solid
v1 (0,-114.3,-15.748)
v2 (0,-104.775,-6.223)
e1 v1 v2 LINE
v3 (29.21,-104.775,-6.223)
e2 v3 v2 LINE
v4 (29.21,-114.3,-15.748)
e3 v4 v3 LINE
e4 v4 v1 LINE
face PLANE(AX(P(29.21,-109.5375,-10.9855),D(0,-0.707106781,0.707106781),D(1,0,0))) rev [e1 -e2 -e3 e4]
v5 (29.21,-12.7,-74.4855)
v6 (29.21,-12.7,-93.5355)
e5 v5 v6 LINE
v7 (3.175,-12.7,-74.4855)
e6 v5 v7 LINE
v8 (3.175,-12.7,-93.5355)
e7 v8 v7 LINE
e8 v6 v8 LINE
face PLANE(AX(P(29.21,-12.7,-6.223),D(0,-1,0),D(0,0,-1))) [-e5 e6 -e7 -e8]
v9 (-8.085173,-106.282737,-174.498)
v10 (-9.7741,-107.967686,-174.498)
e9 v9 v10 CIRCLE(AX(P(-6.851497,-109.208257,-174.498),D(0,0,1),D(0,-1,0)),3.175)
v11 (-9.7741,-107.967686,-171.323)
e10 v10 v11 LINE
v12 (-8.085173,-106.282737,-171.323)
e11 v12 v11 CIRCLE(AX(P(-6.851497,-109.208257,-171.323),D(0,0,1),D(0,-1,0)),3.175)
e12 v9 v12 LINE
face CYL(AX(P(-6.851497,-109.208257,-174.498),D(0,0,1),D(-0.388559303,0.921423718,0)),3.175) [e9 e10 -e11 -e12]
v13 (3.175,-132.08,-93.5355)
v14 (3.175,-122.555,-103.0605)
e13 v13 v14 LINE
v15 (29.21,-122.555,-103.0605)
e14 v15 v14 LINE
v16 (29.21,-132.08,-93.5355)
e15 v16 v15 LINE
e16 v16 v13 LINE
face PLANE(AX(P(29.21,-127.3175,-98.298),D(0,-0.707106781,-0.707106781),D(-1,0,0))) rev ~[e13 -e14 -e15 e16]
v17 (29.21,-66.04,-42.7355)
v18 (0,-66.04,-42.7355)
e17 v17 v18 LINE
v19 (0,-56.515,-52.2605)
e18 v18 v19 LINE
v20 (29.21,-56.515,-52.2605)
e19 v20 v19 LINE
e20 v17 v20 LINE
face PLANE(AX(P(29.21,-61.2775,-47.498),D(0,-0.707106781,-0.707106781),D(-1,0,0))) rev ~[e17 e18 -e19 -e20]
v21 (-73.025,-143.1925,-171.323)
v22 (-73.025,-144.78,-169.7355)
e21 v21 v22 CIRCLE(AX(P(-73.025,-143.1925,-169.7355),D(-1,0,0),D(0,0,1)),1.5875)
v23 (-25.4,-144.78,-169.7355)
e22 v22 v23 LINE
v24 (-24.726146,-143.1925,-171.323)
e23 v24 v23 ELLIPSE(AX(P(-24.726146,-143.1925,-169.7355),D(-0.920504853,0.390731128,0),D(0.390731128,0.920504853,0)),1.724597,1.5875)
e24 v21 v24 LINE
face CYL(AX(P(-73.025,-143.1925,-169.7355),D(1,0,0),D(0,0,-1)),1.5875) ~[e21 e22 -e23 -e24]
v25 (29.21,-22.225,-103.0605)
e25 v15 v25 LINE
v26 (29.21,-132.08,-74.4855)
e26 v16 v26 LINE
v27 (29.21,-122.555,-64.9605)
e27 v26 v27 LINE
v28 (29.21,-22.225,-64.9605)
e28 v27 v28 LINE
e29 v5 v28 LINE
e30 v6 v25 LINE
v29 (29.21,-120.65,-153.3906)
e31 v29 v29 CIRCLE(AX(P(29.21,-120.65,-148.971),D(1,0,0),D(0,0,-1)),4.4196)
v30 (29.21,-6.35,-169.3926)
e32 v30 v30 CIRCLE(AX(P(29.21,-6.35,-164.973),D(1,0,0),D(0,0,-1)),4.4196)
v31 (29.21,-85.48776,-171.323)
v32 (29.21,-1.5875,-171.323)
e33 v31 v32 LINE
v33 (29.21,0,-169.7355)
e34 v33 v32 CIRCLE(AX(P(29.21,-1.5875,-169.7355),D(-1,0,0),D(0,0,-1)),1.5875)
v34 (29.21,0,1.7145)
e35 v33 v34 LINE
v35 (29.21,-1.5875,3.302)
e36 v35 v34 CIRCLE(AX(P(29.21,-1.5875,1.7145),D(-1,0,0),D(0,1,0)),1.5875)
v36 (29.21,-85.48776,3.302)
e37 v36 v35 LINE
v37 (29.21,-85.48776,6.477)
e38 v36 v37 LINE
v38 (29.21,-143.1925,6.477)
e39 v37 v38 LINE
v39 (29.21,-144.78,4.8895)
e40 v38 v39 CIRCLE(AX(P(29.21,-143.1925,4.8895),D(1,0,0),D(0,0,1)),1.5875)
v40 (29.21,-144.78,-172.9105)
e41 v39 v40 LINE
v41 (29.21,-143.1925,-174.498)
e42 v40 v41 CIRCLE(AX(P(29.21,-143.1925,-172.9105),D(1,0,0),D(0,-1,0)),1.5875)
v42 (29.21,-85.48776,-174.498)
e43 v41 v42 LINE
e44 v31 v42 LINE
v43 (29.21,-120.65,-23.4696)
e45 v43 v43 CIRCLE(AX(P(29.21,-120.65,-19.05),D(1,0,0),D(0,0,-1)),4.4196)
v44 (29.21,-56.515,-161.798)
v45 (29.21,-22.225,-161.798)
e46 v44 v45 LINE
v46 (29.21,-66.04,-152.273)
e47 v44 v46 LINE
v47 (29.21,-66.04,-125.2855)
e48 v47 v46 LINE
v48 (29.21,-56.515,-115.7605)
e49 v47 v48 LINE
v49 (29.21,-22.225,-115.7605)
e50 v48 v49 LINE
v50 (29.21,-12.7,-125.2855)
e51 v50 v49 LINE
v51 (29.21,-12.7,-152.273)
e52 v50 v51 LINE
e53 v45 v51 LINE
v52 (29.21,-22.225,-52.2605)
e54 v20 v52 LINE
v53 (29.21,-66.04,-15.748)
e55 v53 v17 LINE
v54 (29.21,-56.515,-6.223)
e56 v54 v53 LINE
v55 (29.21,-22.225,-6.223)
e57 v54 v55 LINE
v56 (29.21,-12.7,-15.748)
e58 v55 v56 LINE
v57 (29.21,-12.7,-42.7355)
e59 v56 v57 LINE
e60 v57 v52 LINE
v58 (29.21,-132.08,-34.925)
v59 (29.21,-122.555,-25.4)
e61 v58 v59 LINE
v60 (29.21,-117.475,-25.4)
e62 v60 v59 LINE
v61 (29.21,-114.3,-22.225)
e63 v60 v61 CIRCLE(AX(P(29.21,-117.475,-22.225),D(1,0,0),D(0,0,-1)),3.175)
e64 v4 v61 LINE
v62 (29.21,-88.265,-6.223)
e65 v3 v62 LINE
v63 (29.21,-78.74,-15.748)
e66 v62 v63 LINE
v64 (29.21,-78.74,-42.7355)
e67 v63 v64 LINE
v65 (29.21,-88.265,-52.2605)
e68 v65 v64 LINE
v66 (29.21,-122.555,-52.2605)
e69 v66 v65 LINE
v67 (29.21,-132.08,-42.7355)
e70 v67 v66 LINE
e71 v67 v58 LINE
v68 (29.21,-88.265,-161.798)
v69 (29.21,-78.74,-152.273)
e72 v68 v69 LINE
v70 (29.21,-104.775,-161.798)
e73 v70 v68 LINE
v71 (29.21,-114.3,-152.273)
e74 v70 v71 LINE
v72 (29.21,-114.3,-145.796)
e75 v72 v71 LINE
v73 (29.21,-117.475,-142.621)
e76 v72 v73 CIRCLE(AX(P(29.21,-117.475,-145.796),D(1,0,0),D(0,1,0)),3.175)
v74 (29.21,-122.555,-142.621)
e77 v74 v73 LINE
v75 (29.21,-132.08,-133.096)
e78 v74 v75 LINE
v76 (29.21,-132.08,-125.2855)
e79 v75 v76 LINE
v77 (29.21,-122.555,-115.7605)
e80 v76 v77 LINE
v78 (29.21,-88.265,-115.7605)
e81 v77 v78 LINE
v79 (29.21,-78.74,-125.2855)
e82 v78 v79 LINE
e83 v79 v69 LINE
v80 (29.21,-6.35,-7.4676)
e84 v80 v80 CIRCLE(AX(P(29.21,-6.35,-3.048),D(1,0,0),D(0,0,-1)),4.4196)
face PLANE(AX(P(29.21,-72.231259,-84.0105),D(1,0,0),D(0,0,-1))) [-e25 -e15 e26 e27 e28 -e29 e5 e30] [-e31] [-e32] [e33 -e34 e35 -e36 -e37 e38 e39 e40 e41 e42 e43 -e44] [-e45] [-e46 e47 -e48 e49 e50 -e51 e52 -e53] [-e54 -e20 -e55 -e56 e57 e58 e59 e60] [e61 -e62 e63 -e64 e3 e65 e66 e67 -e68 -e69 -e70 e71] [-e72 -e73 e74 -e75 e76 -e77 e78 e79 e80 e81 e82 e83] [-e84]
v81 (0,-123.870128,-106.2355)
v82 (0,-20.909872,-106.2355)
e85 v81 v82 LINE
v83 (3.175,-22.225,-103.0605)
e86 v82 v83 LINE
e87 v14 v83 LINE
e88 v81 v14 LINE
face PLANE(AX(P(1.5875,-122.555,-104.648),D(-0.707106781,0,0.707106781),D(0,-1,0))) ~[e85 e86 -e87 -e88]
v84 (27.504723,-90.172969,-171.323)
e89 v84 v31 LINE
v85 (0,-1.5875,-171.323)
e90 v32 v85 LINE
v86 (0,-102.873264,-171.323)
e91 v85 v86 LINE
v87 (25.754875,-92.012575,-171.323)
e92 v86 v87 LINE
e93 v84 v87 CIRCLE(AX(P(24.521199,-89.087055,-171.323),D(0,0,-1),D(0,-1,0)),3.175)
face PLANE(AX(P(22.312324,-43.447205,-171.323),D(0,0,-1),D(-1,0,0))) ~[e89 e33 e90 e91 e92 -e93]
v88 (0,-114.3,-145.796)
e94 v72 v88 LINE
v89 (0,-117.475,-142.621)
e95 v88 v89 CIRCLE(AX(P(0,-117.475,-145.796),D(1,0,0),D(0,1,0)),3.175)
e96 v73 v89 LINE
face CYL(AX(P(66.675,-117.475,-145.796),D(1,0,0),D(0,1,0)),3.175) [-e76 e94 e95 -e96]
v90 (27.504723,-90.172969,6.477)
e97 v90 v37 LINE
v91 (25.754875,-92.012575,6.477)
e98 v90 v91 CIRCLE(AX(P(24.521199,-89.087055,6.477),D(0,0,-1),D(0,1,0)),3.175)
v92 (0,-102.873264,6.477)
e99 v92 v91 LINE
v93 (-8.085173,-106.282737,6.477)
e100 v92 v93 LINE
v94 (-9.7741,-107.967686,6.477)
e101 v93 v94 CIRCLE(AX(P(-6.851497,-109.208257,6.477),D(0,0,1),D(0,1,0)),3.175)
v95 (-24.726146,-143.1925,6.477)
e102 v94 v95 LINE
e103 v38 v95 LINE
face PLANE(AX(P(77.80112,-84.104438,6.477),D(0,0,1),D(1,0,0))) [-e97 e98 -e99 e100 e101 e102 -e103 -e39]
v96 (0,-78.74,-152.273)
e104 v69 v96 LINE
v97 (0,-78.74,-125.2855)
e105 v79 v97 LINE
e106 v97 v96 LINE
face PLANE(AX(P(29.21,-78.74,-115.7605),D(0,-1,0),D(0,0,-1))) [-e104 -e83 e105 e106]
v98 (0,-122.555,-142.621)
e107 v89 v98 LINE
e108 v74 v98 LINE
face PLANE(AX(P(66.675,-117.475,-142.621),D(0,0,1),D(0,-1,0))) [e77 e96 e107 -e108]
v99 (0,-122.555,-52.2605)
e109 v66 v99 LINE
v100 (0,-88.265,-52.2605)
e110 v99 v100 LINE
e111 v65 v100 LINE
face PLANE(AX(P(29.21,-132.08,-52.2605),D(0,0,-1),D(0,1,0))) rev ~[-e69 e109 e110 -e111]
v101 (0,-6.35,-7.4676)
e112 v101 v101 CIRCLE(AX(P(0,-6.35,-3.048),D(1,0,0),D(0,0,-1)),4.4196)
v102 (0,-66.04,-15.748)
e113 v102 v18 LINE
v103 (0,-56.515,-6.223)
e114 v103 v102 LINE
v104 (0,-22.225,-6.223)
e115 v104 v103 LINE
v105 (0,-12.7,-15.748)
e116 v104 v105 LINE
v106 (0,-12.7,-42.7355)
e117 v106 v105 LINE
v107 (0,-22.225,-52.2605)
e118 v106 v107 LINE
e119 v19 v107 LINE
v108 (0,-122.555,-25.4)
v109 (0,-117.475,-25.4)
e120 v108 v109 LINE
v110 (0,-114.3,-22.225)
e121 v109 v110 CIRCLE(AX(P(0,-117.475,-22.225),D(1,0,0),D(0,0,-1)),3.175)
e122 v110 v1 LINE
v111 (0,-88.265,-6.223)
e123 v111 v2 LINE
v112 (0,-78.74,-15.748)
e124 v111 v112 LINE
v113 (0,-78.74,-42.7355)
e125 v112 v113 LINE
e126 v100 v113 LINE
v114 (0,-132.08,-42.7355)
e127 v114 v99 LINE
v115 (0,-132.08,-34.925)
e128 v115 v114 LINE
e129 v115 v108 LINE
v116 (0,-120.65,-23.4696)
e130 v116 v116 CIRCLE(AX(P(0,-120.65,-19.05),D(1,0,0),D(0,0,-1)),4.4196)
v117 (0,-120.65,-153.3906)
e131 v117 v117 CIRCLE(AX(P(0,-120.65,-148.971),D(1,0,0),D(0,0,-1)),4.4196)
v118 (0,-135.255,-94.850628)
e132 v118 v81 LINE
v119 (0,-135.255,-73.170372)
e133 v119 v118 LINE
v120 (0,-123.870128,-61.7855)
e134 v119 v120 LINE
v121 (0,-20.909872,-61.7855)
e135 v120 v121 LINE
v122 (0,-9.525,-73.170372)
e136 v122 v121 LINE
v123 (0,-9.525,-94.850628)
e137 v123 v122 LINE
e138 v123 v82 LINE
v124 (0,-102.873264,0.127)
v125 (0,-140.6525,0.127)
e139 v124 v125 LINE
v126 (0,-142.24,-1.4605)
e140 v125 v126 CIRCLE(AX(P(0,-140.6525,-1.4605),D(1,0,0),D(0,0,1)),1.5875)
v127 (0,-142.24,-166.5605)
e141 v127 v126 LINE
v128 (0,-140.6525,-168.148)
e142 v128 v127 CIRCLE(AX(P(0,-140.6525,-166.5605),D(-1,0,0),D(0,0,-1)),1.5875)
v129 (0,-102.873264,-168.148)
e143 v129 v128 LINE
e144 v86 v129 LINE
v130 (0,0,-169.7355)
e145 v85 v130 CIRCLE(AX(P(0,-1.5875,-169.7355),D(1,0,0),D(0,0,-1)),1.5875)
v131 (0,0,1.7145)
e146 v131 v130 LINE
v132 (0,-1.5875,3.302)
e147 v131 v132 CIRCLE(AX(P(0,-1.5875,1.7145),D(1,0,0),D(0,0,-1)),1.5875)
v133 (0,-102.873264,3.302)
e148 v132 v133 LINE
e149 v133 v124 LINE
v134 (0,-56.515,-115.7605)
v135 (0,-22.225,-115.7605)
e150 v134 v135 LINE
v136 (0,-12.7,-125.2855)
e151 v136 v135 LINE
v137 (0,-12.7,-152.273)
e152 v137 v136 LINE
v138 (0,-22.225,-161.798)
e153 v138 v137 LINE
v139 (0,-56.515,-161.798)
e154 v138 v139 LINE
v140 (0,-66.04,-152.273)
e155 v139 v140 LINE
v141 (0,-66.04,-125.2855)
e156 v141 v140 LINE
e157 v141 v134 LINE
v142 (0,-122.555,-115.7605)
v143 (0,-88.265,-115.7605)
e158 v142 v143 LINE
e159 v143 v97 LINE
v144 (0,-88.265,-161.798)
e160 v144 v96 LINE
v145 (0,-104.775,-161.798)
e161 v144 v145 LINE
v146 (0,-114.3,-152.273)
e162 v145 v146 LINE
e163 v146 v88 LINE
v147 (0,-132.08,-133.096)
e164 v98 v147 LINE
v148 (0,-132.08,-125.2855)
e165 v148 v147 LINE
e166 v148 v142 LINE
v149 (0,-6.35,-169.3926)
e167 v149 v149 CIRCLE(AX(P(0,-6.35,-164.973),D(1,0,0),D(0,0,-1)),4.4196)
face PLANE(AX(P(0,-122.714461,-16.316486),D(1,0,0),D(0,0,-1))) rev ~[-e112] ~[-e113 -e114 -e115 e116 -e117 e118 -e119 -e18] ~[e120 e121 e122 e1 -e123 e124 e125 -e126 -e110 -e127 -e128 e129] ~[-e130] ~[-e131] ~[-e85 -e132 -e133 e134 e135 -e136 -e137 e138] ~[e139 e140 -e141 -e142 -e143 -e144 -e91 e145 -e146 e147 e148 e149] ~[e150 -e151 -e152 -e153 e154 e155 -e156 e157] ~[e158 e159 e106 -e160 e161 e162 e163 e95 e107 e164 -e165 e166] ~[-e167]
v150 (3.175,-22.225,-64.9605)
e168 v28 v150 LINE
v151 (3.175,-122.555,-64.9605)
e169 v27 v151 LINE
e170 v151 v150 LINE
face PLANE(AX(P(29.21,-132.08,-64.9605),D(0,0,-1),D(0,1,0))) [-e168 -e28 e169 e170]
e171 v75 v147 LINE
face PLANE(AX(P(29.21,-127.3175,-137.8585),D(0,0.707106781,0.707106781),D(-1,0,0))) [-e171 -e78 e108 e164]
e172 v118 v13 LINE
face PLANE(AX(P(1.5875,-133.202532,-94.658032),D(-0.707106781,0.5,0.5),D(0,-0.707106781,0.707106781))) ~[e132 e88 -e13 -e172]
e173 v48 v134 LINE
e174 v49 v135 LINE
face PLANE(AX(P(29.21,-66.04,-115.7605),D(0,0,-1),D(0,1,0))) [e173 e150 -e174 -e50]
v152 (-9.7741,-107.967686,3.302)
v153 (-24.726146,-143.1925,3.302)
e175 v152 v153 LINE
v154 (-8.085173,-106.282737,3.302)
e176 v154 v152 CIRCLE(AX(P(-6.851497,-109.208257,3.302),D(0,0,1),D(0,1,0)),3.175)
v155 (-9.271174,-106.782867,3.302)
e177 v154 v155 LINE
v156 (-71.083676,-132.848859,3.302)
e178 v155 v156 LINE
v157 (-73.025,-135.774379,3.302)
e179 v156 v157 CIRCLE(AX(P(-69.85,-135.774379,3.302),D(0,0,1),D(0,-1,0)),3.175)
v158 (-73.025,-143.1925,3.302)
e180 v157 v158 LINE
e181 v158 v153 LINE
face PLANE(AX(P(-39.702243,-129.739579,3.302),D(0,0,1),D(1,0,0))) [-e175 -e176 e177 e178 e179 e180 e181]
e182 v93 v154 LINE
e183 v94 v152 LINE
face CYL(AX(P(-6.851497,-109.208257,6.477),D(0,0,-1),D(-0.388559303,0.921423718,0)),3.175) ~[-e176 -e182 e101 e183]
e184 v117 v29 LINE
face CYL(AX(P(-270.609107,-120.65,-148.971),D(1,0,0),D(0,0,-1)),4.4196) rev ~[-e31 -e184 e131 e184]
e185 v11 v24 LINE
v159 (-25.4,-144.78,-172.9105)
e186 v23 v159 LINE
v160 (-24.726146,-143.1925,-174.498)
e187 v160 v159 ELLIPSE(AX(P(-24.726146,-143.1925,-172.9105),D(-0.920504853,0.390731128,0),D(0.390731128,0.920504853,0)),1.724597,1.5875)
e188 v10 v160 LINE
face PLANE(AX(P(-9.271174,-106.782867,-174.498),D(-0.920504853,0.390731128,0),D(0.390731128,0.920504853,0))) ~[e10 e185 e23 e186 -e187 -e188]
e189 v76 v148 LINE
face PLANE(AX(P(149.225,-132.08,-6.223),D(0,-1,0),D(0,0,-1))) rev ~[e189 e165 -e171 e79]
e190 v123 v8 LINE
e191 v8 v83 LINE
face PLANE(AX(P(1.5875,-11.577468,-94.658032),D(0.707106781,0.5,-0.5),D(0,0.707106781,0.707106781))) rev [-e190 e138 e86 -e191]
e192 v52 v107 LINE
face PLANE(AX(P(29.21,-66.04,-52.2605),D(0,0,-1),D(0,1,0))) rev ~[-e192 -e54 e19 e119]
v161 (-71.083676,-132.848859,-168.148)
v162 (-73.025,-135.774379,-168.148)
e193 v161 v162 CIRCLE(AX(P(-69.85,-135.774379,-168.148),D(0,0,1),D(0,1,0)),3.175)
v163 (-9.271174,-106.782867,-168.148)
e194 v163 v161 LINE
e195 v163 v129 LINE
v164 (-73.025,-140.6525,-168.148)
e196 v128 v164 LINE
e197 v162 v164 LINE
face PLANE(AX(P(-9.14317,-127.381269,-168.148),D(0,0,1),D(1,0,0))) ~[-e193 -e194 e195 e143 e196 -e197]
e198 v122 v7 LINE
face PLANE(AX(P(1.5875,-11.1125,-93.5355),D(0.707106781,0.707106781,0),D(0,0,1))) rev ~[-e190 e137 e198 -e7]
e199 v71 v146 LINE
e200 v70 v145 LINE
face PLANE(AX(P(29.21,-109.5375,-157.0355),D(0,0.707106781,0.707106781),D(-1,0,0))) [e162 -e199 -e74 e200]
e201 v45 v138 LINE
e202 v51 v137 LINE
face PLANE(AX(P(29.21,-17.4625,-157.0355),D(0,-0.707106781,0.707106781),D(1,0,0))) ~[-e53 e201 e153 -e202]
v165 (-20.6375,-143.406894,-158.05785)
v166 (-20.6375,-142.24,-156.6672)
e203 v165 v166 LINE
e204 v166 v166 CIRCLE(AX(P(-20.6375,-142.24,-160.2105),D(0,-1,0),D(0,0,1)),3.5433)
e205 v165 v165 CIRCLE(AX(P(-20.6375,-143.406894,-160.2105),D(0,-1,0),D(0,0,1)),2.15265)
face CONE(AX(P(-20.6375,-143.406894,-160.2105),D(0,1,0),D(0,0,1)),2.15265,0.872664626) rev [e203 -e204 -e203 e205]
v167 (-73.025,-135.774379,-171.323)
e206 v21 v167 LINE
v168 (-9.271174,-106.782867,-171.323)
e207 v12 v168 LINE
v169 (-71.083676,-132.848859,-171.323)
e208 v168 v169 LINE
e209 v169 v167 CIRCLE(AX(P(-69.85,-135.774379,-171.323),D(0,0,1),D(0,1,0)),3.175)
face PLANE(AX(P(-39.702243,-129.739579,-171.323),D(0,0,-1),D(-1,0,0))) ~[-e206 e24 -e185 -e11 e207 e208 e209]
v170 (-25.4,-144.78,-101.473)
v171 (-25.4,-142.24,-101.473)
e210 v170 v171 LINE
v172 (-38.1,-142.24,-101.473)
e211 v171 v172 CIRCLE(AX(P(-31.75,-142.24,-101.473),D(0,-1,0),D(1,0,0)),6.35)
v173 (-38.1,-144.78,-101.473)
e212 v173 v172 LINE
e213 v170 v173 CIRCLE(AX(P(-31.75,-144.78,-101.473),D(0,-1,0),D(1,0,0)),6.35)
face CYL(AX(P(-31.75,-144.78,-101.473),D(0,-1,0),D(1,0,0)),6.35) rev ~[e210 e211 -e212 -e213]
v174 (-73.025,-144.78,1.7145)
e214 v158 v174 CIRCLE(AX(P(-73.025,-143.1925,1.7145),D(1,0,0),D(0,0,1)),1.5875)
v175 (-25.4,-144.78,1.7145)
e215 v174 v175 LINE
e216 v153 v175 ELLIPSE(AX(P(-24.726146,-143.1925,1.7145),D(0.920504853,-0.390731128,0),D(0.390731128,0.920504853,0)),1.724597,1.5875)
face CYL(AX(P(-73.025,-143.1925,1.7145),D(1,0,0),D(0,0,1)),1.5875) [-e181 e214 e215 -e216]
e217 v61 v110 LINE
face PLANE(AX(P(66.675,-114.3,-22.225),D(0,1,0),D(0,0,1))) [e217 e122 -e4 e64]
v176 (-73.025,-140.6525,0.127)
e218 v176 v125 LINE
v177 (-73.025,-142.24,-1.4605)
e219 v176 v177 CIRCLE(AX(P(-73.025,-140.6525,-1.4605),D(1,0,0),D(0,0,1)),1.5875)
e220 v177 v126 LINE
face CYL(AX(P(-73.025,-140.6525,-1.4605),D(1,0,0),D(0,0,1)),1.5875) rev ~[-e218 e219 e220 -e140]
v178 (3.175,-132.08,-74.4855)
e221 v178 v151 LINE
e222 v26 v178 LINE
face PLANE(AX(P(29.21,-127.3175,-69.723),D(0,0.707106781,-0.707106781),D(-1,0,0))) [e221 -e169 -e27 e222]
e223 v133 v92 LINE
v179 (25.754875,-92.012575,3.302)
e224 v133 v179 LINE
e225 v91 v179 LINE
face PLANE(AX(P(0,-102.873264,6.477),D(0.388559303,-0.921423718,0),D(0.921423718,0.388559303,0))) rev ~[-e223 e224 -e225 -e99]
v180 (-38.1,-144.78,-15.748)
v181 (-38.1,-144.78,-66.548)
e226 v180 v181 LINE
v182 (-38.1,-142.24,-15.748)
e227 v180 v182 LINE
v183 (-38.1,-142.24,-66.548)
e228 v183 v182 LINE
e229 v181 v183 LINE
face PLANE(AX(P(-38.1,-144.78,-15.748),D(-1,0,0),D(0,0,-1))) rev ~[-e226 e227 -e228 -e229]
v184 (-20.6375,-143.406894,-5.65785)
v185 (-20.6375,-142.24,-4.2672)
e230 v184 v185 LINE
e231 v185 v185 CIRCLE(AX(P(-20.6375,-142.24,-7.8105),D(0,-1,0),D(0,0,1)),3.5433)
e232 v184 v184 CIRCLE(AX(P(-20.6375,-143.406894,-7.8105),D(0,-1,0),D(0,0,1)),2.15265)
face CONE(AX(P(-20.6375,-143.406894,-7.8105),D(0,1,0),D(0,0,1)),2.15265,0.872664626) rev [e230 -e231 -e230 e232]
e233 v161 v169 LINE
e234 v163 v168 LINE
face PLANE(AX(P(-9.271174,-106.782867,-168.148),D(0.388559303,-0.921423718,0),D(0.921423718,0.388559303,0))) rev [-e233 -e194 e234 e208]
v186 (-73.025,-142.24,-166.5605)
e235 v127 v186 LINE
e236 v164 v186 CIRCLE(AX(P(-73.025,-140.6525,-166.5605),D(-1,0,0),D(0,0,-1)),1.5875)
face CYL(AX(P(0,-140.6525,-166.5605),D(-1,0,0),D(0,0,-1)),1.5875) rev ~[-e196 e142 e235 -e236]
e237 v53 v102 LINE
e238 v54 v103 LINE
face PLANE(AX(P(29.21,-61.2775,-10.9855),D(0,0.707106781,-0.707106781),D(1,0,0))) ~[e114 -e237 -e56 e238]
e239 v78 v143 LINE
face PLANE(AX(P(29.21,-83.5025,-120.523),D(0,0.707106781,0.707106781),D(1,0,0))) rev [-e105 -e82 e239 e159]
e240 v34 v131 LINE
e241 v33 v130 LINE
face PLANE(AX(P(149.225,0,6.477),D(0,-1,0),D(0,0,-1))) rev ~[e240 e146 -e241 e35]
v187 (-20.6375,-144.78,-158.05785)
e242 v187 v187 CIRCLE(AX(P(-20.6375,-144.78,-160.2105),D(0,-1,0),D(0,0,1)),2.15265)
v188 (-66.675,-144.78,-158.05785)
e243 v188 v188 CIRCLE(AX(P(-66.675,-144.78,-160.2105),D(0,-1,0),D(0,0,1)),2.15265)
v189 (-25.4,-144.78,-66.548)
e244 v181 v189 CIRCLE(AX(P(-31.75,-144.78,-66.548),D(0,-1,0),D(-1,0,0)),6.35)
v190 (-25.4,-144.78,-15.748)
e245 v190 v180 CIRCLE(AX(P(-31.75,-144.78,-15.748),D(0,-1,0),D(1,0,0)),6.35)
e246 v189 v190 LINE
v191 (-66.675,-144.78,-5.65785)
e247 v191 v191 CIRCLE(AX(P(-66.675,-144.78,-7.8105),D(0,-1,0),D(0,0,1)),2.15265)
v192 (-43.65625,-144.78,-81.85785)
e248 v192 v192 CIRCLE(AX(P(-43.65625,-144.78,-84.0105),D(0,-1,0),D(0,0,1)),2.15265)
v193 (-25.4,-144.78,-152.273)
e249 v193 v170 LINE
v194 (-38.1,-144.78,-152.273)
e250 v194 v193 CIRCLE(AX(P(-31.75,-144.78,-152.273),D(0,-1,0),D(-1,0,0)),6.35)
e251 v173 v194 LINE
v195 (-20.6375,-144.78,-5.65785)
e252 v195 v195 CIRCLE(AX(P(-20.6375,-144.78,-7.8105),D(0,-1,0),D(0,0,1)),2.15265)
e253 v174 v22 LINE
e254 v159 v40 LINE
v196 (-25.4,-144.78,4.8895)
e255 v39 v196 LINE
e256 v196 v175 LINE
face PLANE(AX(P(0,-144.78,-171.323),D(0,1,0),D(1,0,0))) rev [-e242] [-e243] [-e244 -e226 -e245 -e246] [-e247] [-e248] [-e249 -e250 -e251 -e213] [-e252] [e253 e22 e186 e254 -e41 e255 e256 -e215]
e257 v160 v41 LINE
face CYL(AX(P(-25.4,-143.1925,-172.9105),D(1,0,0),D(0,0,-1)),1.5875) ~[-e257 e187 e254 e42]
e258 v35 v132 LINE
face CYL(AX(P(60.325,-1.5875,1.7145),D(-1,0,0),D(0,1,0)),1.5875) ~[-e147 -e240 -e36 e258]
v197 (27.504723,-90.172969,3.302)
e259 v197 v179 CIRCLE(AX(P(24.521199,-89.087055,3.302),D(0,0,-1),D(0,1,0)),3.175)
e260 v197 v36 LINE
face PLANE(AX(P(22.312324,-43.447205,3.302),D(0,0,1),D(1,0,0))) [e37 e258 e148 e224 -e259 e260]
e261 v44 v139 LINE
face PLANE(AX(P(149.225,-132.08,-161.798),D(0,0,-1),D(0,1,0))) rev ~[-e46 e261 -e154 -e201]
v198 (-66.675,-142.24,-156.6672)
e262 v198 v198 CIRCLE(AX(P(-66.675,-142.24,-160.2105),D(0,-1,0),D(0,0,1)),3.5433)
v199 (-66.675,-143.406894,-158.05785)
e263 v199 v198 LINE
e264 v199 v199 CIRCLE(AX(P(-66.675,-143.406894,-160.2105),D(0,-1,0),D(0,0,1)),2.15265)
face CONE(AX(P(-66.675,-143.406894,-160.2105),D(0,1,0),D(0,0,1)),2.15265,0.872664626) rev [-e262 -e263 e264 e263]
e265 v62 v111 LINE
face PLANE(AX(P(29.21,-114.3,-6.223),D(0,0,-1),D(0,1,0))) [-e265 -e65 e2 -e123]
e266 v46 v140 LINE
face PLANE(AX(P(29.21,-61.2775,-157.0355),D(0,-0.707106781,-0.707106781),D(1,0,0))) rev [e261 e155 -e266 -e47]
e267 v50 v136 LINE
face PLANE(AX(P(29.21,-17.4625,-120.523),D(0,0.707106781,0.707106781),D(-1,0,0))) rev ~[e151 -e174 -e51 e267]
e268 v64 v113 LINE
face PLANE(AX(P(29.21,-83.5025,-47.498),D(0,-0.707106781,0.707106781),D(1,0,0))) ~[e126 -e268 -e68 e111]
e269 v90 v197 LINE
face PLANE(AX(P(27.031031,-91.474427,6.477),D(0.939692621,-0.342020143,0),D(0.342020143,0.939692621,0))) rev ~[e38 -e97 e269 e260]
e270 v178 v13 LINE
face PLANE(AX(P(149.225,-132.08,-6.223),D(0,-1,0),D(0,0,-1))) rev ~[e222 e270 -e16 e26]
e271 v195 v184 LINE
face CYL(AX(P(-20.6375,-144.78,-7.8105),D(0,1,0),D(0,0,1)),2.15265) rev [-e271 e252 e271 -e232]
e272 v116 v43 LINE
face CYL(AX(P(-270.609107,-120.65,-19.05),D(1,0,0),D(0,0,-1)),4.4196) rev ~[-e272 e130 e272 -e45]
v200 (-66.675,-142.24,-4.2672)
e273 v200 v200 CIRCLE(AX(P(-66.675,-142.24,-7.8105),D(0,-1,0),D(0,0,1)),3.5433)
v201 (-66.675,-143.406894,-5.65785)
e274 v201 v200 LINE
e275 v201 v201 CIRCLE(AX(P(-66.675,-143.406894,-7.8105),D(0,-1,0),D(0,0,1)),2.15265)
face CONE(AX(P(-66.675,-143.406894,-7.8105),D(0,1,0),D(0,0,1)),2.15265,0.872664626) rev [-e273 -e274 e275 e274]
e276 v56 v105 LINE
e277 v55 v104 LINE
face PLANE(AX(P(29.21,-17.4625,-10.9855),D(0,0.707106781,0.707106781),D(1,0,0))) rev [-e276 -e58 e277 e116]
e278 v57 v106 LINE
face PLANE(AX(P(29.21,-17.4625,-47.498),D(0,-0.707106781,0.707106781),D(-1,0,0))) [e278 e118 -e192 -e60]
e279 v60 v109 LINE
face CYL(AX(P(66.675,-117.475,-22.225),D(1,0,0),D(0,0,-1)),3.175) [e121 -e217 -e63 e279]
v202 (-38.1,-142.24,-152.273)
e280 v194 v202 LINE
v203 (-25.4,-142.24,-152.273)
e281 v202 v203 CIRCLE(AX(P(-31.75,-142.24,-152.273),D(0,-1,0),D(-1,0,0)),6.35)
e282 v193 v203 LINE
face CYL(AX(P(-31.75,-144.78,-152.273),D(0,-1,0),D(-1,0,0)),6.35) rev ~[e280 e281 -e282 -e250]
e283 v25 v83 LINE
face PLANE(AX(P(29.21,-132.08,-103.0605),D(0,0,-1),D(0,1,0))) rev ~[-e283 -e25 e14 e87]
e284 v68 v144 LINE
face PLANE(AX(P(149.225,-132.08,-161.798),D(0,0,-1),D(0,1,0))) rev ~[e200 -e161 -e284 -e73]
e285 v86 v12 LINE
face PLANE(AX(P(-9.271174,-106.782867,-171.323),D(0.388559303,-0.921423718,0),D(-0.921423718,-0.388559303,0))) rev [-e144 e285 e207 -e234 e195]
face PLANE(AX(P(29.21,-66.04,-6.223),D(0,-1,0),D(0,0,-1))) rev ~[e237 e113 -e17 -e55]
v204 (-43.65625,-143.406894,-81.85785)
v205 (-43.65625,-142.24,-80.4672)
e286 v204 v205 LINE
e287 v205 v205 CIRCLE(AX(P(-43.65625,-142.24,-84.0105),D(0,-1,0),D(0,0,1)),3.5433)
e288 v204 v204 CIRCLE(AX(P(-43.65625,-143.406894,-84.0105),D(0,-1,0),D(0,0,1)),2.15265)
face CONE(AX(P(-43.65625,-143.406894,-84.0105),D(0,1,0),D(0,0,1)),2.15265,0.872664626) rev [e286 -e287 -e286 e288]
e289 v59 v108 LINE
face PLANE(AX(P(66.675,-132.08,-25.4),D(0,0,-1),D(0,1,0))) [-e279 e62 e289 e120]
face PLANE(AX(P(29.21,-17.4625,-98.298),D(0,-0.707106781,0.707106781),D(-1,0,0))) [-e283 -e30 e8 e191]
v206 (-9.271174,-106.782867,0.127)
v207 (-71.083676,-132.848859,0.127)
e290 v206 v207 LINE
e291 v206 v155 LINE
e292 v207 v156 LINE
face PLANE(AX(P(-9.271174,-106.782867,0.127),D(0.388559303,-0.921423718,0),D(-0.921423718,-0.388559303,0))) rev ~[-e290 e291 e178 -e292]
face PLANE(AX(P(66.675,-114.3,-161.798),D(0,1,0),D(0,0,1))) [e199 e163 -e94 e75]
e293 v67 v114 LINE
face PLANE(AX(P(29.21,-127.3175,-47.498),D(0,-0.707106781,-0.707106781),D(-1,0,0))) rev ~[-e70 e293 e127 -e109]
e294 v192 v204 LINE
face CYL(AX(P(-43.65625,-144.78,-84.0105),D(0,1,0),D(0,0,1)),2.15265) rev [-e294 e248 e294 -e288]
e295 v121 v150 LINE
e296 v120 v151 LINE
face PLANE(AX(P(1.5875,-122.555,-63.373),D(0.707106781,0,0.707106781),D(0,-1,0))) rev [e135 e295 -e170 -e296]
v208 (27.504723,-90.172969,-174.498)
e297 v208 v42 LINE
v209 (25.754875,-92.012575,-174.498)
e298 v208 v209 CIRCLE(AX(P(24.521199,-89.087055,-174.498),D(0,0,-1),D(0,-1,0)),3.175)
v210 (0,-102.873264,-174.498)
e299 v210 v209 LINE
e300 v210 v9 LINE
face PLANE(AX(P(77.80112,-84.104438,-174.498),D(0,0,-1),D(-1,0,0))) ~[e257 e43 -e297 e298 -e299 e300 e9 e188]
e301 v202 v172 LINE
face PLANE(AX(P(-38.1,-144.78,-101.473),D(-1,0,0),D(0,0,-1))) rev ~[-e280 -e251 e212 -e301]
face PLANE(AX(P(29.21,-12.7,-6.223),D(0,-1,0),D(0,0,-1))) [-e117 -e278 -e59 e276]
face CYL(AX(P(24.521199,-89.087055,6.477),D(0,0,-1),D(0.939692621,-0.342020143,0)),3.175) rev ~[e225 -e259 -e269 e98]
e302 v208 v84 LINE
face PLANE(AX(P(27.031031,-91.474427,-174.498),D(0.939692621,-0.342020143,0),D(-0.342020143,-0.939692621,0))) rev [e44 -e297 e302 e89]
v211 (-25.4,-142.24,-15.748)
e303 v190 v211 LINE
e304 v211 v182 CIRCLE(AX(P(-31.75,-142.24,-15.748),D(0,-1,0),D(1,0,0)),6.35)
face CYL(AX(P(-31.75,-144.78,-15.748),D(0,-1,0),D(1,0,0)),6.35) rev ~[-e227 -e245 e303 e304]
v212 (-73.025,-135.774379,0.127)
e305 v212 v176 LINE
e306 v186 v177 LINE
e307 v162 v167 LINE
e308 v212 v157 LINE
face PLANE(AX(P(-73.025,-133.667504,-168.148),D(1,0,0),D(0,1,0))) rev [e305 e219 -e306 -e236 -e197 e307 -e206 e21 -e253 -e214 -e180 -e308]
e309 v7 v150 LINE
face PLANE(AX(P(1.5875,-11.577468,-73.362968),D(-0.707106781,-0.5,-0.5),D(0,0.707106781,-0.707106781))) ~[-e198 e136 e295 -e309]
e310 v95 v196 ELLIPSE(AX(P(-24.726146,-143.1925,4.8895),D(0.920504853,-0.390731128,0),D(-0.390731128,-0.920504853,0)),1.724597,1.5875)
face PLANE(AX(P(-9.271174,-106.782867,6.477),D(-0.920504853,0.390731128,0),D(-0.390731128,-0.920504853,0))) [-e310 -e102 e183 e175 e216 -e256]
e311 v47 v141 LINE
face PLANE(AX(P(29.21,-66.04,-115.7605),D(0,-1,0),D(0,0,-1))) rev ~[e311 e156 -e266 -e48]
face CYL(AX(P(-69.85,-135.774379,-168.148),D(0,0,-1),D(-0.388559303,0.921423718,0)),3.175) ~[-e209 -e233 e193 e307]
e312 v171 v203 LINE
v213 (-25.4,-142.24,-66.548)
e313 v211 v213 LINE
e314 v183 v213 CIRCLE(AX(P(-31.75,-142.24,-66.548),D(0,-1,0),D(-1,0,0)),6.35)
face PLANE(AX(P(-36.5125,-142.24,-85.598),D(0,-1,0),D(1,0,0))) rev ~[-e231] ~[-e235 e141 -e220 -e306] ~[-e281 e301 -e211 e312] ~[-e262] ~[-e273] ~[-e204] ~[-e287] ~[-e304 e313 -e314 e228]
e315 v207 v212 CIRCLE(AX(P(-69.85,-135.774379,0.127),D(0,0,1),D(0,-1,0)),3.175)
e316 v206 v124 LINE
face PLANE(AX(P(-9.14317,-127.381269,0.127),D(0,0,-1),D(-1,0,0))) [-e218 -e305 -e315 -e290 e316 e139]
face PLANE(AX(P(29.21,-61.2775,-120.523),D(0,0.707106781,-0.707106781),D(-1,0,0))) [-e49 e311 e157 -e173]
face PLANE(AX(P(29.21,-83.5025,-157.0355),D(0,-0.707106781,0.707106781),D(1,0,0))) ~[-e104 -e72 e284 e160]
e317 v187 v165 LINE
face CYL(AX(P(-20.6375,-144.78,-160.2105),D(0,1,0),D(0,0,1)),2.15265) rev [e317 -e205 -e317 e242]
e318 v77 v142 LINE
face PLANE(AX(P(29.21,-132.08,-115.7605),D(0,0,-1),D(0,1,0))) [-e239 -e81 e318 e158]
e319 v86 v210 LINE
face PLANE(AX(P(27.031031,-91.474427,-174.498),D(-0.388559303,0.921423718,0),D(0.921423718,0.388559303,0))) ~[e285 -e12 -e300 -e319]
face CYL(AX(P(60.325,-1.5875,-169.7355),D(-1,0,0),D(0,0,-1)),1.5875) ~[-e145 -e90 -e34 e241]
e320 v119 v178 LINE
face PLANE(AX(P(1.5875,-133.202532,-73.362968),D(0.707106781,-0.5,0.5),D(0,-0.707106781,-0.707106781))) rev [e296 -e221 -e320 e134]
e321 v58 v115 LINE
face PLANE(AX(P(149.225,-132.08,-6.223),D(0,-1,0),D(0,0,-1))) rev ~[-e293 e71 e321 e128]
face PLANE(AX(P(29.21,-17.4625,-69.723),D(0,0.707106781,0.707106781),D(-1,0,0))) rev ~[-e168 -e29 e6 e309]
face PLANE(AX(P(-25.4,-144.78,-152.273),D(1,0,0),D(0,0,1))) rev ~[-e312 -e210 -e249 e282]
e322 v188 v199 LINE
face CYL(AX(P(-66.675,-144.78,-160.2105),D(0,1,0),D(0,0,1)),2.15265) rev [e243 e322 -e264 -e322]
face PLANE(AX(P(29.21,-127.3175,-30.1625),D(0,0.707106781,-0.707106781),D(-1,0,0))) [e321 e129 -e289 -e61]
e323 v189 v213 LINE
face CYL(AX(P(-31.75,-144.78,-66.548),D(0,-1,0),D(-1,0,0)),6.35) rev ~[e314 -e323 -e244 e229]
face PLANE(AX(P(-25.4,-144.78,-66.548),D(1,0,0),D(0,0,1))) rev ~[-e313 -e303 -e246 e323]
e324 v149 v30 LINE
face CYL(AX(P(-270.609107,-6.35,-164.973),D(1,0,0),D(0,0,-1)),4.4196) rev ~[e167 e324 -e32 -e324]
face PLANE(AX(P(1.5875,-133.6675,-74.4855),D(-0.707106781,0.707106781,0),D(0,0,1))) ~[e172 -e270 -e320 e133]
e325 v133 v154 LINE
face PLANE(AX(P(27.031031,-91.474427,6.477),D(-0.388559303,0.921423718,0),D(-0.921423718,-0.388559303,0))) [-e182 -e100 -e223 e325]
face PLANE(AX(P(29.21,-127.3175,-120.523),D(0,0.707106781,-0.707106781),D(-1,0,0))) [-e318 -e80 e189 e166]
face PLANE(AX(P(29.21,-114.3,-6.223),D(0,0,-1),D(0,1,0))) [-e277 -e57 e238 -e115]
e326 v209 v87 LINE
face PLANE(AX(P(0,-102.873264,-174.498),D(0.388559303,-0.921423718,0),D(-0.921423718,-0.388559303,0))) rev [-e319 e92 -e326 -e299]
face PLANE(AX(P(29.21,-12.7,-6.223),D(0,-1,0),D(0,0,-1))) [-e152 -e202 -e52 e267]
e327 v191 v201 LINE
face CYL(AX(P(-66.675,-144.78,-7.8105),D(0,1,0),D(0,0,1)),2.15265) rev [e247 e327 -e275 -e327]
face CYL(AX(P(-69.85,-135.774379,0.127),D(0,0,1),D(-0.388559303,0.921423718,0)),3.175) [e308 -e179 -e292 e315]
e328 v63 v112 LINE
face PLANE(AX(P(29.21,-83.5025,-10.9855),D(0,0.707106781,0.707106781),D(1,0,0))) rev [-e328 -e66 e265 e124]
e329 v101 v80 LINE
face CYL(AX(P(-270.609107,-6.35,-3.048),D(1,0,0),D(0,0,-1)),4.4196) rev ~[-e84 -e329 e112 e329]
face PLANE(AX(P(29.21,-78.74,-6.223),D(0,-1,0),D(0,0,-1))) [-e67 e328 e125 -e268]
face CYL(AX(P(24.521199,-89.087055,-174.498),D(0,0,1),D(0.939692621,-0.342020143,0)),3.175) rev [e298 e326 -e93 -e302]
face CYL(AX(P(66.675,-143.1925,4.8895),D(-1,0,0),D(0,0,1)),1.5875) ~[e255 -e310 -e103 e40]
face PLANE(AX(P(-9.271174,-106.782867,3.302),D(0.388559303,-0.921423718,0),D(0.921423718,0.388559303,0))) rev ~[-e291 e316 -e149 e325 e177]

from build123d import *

# Parameters (mm, degrees)
SKETCH2_W                                 = 180.975
SKETCH2_H                                 = 144.78
BOSS_EXTRUDE1_DEPTH                       = 149.225
BOSS_EXTRUDE2_DEPTH                       = 3.175
BOSS_EXTRUDE3_DEPTH                       = 3.175
BOSS_EXTRUDE4_DEPTH                       = 3.175
CUT_EXTRUDE1_DEPTH                        = 3.175
SKETCH7_W                                 = 73.025
SKETCH7_H                                 = 171.45
BOSS_EXTRUDE6_DEPTH                       = 2.54
FILLET1_R                                 = 1.5875
SKETCH10_W                                = 155.575
SKETCH10_H                                = 119.38
CUT_EXTRUDE2_DEPTH                        = 223.25
FILLET3_R                                 = 3.175
CHAMFER1_SIZE                             = 6.35
FILLET4_R                                 = 6.35
SKETCH11_W                                = 180.975
SKETCH11_H                                = 144.78
CUT_EXTRUDE3_DEPTH                        = 82.55
FILLET5_R                                 = 1.5875
CUT_EXTRUDE4_REACH                        = 146.78
BOSS_EXTRUDE7_DEPTH                       = 66.675
BOSS_EXTRUDE8_DEPTH                       = 9.525
S_0_348_DIAMETER_HOLE1_D                  = 8.8392
CSK_FOR_6_FLAT_HEAD_MACHINE_SCREW_2_COUNT = 2
CSK_FOR_6_FLAT_HEAD_MACHINE_SCREW_2_PITCH = 46.0375
CSK_FOR_6_FLAT_HEAD_MACHINE_SCREW_3_COUNT = 2
CSK_FOR_6_FLAT_HEAD_MACHINE_SCREW_3_PITCH = 159.201794608
CSK_FOR_6_FLAT_HEAD_MACHINE_SCREW_4_COUNT = 2
CSK_FOR_6_FLAT_HEAD_MACHINE_SCREW_4_PITCH = 152.4
CSK_FOR_6_FLAT_HEAD_MACHINE_SCREW_5_COUNT = 2
CSK_FOR_6_FLAT_HEAD_MACHINE_SCREW_5_PITCH = 79.600897304
F_1_4_CLEARANCE_HOLE1_D                   = 7.14248
RELIEF_FOR_MIP_FACE_SUPPORT_DEPTH         = 37.465
SKETCH23_W                                = 6.35
SKETCH23_H                                = 119.38
SKETCH23_W_2                              = 155.575
SKETCH23_H_2                              = 6.35
EXTRUDE_THIN1_DEPTH                       = 29.21
FILLET6_R                                 = 6.35
CUT_EXTRUDE5_DEPTH                        = 29.21
SKETCH25_W                                = 12.7
SKETCH25_H                                = 119.38
SKETCH25_W_2                              = 52.3875
SKETCH25_H_2                              = 12.7
EXTRUDE_THIN2_DEPTH                       = 29.21
CHAMFER2_SIZE                             = 9.525
CHAMFER3_SIZE                             = 3.175


with BuildPart() as part:
    # Sketch2 → Boss-Extrude1 (new body)
    with BuildSketch(Plane(origin=(149.225, 0, 0), x_dir=(0, 0, -1), z_dir=(1, 0, 0))):
        with Locations((84.0105, -72.39)):
            Rectangle(SKETCH2_W, SKETCH2_H)
    extrude(amount=-BOSS_EXTRUDE1_DEPTH)

    # Sketch3<3> → Boss-Extrude2 (add)
    with BuildSketch(Plane.XY.offset(6.477)):
        Polygon((-9.271174074, -106.782867284), (-25.4, -144.78), (149.225, -144.78), (149.225, 0), (60.325, 0), (27.03103123, -91.474427399), align=None)
    extrude(amount=-BOSS_EXTRUDE2_DEPTH)



with BuildPart() as body_2:
    # Sketch4 → Boss-Extrude3 (new body)
    with BuildSketch(Plane.XY.offset(0.127)):
        Polygon((-73.025, -133.667504276), (-73.025, -144.78), (-25.4, -144.78), (-9.271174074, -106.782867284), align=None)
    extrude(amount=BOSS_EXTRUDE3_DEPTH)


with BuildPart() as part_1:
    add(part.part)

    add(body_2.part)  # Boss-Extrude4 merges body 2
    # Sketch5 → Boss-Extrude4 (add)
    with BuildSketch(Plane(origin=(0, 0, 3.302), x_dir=(-1, 0, 0), z_dir=(0, 0, -1))):
        Polygon((0, -102.873264278), (0, -144.78), (25.4, -144.78), (9.271174074, -106.782867284), align=None)
    extrude(amount=BOSS_EXTRUDE4_DEPTH)

    # Mirror5: part across plane


with BuildPart() as part_2:
    add(part_1.part)
    add(part_1.part.mirror(Plane.XY.offset(-84.0105)))

    # Sketch3 → Cut-Extrude1 (cut)
    with BuildSketch(Plane.XY.offset(6.477)):
        Polygon((27.03103123, -91.474427399), (60.325, 0), (0, 0), (0, -102.873264278), align=None)
    cut_extrude1 = extrude(amount=-CUT_EXTRUDE1_DEPTH, mode=Mode.SUBTRACT)

    # Mirror6: Cut-Extrude1 across plane
    add(cut_extrude1.mirror(Plane.XY.offset(-84.0105)), mode=Mode.SUBTRACT)

    # Sketch7 → Boss-Extrude6 (add)
    with BuildSketch(Plane.XZ.offset(144.78)):
        with Locations((-36.5125, -85.598)):
            Rectangle(SKETCH7_W, SKETCH7_H)
    extrude(amount=-BOSS_EXTRUDE6_DEPTH)

    # Fillet1
    fillet1_edges = [part_2.edges().sort_by_distance(p)[0] for p in [
        (30.1625, 0, 3.302),
        (30.1625, 0, -171.323),
    ]]
    fillet(fillet1_edges, radius=FILLET1_R)

    # Sketch10 → Cut-Extrude2 (cut, through all)
    with BuildSketch(Plane(origin=(149.225, 0, 0), x_dir=(0, 0, -1), z_dir=(1, 0, 0))):
        with Locations((84.0105, -72.39)):
            Rectangle(SKETCH10_W, SKETCH10_H)
    extrude(amount=-CUT_EXTRUDE2_DEPTH, mode=Mode.SUBTRACT)

    # Fillet3
    fillet3_edges = [part_2.edges().sort_by_distance(p)[0] for p in [
        (27.03103123, -91.474427399, 4.8895),
        (27.03103123, -91.474427399, -172.9105),
        (-9.271174074, -106.782867284, 4.8895),
        (-73.025, -133.667504276, 1.7145),
        (-73.025, -133.667504276, -169.7355),
        (-9.271174074, -106.782867284, -172.9105),
    ]]
    fillet(fillet3_edges, radius=FILLET3_R)

    # Chamfer1
    chamfer1_edges = [part_2.edges().sort_by_distance(p)[0] for p in [
        (74.6125, -12.7, -161.798),
        (74.6125, -132.08, -161.798),
        (74.6125, -132.08, -6.223),
        (74.6125, -12.7, -6.223),
    ]]
    chamfer(chamfer1_edges, length=CHAMFER1_SIZE)

    # Fillet4
    fillet4_edges = [part_2.edges().sort_by_distance(p)[0] for p in [
        (74.6125, -125.73, -6.223),
        (74.6125, -19.05, -6.223),
        (74.6125, -12.7, -155.448),
        (74.6125, -12.7, -12.573),
        (74.6125, -132.08, -155.448),
        (74.6125, -132.08, -12.573),
        (74.6125, -19.05, -161.798),
        (74.6125, -125.73, -161.798),
    ]]
    fillet(fillet4_edges, radius=FILLET4_R)

    # Sketch11 → Cut-Extrude3 (cut)
    with BuildSketch(Plane(origin=(149.225, 0, 0), x_dir=(0, 0, -1), z_dir=(1, 0, 0))):
        with Locations((84.0105, -72.39)):
            Rectangle(SKETCH11_W, SKETCH11_H)
    extrude(amount=-CUT_EXTRUDE3_DEPTH, mode=Mode.SUBTRACT)

    # Fillet5
    fillet5_edges = [part_2.edges().sort_by_distance(p)[0] for p in [
        (20.6375, -144.78, 6.477),
        (20.6375, -144.78, -174.498),
        (-36.5125, -142.24, 0.127),
        (-36.5125, -142.24, -168.148),
        (-49.2125, -144.78, 3.302),
        (-49.2125, -144.78, -171.323),
    ]]
    fillet(fillet5_edges, radius=FILLET5_R)

    # Sketch12 → Cut-Extrude4 (cut, up to next)
    with BuildSketch(Plane.XZ.offset(144.78), mode=Mode.PRIVATE) as cut_extrude4_sk1:
        with BuildLine():
            Line((-38.1, -101.473), (-38.1, -152.273))
            ThreePointArc((-38.1, -152.273), (-31.75, -158.623), (-25.4, -152.273))
            Line((-25.4, -152.273), (-25.4, -101.473))
            ThreePointArc((-25.4, -101.473), (-31.75, -95.123), (-38.1, -101.473))
        make_face()
    cut_extrude4_tool1 = extrude(cut_extrude4_sk1.sketch, amount=-CUT_EXTRUDE4_REACH, mode=Mode.PRIVATE) & part_2.part
    add(cut_extrude4_tool1.solids().sort_by_distance((-31.75, -144.78, -126.873))[0], mode=Mode.SUBTRACT)
    # Sketch12 → Cut-Extrude4 (cut, up to next)
    with BuildSketch(Plane.XZ.offset(144.78), mode=Mode.PRIVATE) as cut_extrude4_sk2:
        with BuildLine():
            Line((-25.4, -66.548), (-25.4, -15.748))
            ThreePointArc((-25.4, -15.748), (-31.75, -9.398), (-38.1, -15.748))
            Line((-38.1, -15.748), (-38.1, -66.548))
            ThreePointArc((-38.1, -66.548), (-31.75, -72.898), (-25.4, -66.548))
        make_face()
    cut_extrude4_tool2 = extrude(cut_extrude4_sk2.sketch, amount=-CUT_EXTRUDE4_REACH, mode=Mode.PRIVATE) & part_2.part
    add(cut_extrude4_tool2.solids().sort_by_distance((-31.75, -144.78, -41.148))[0], mode=Mode.SUBTRACT)

    # Sketch18 → Boss-Extrude7 (add)
    with BuildSketch(Plane(origin=(66.675, 0, 0), x_dir=(0, 0, -1), z_dir=(1, 0, 0))):
        with BuildLine():
            Line((15.203256121, -132.08), (25.4, -132.08))
            Line((25.4, -132.08), (25.4, -117.475))
            ThreePointArc((25.4, -117.475), (24.47006403, -115.22993597), (22.225, -114.3))
            Line((22.225, -114.3), (6.223, -114.3))
            Line((6.223, -114.3), (6.223, -123.099743879))
            ThreePointArc((6.223, -123.099743879), (6.706364969, -125.529783674), (8.082871939, -127.589871939))
            Line((8.082871939, -127.589871939), (10.713128061, -130.220128061))
            ThreePointArc((10.713128061, -130.220128061), (12.773216326, -131.596635031), (15.203256121, -132.08))
        make_face()
        with BuildLine():
            Line((161.798, -123.099743879), (161.798, -114.3))
            Line((161.798, -114.3), (145.796, -114.3))
            ThreePointArc((145.796, -114.3), (143.55093597, -115.22993597), (142.621, -117.475))
            Line((142.621, -117.475), (142.621, -132.08))
            Line((142.621, -132.08), (152.817743879, -132.08))
            ThreePointArc((152.817743879, -132.08), (155.247783674, -131.596635031), (157.307871939, -130.220128061))
            Line((157.307871939, -130.220128061), (159.938128061, -127.589871939))
            ThreePointArc((159.938128061, -127.589871939), (161.314635031, -125.529783674), (161.798, -123.099743879))
        make_face()
    extrude(amount=-BOSS_EXTRUDE7_DEPTH)

    # Sketch18<3> → Boss-Extrude8 (add)
    with BuildSketch(Plane(origin=(66.675, 0, 0), x_dir=(0, 0, -1), z_dir=(1, 0, 0))):
        with BuildLine():
            Line((145.796, -30.48), (161.798, -30.48))
            Line((161.798, -30.48), (161.798, -21.680256121))
            ThreePointArc((161.798, -21.680256121), (161.314635031, -19.250216326), (159.938128061, -17.190128061))
            Line((159.938128061, -17.190128061), (157.307871939, -14.559871939))
            ThreePointArc((157.307871939, -14.559871939), (155.247783674, -13.183364969), (152.817743879, -12.7))
            Line((152.817743879, -12.7), (142.621, -12.7))
            Line((142.621, -12.7), (142.621, -27.305))
            ThreePointArc((142.621, -27.305), (143.55093597, -29.55006403), (145.796, -30.48))
        make_face()
        with BuildLine():
            Line((25.4, -27.305), (25.4, -12.7))
            Line((25.4, -12.7), (15.203256121, -12.7))
            ThreePointArc((15.203256121, -12.7), (12.773216326, -13.183364969), (10.713128061, -14.559871939))
            Line((10.713128061, -14.559871939), (8.082871939, -17.190128061))
            ThreePointArc((8.082871939, -17.190128061), (6.706364969, -19.250216326), (6.223, -21.680256121))
            Line((6.223, -21.680256121), (6.223, -30.48))
            Line((6.223, -30.48), (22.225, -30.48))
            ThreePointArc((22.225, -30.48), (24.47006403, -29.55006403), (25.4, -27.305))
        make_face()
    extrude(amount=-BOSS_EXTRUDE8_DEPTH)

    # S (0.348) Diameter Hole1 (through all)
    with Locations(Plane.ZY):
        with Locations((-164.973, -6.35), (-3.048, -6.35), (-19.05, -120.65), (-148.971, -120.65)):
            Hole(S_0_348_DIAMETER_HOLE1_D / 2)

    # Sketch17 → CSK for #6 Flat Head Machine Screw (100)1 (revolve, cut)
    with BuildSketch(Plane(origin=(-20.6375, -142.24, -7.8105), x_dir=(0, 0, 1), z_dir=(1, 0, 0))):
        Polygon((0, 0), (0, 2.54), (2.15265, 2.54), (2.15265, 1.166893902), (3.5433, 0), align=None)
    csk_for_6_flat_head_machine_screw_100 = revolve(axis=Axis((-20.6375, -135.89, -7.8105), (0, -1, 0)), mode=Mode.SUBTRACT)

    # CSK for _6 Flat Head Machine Screw _ 2: CSK for #6 Flat Head Machine Screw (100)1 ×2
    with Locations(*[(-i * CSK_FOR_6_FLAT_HEAD_MACHINE_SCREW_2_PITCH, 0, 0) for i in range(1, CSK_FOR_6_FLAT_HEAD_MACHINE_SCREW_2_COUNT)]):
        add(csk_for_6_flat_head_machine_screw_100, mode=Mode.SUBTRACT)

    # CSK for _6 Flat Head Machine Screw _ 3: CSK for #6 Flat Head Machine Screw (100)1 ×2
    with Locations(*[Vector(-0.289177017, 0, -0.957275641) * (i * CSK_FOR_6_FLAT_HEAD_MACHINE_SCREW_3_PITCH) for i in range(1, CSK_FOR_6_FLAT_HEAD_MACHINE_SCREW_3_COUNT)]):
        add(csk_for_6_flat_head_machine_screw_100, mode=Mode.SUBTRACT)

    # CSK for _6 Flat Head Machine Screw _ 4: CSK for #6 Flat Head Machine Screw (100)1 ×2
    with Locations(*[(0, 0, -i * CSK_FOR_6_FLAT_HEAD_MACHINE_SCREW_4_PITCH) for i in range(1, CSK_FOR_6_FLAT_HEAD_MACHINE_SCREW_4_COUNT)]):
        add(csk_for_6_flat_head_machine_screw_100, mode=Mode.SUBTRACT)

    # CSK for _6 Flat Head Machine Screw _ 5: CSK for #6 Flat Head Machine Screw (100)1 ×2
    with Locations(*[Vector(-0.289177017, 0, -0.957275641) * (i * CSK_FOR_6_FLAT_HEAD_MACHINE_SCREW_5_PITCH) for i in range(1, CSK_FOR_6_FLAT_HEAD_MACHINE_SCREW_5_COUNT)]):
        add(csk_for_6_flat_head_machine_screw_100, mode=Mode.SUBTRACT)

    # 1/4 Clearance Hole1 (through all)
    with Locations(Plane.ZY.offset(-57.15)):
        with Locations((-19.05, -24.13), (-148.971, -24.13)):
            Hole(F_1_4_CLEARANCE_HOLE1_D / 2)

    # Sketch22 → Relief for MIP face support (cut)
    with BuildSketch(Plane(origin=(66.675, 0, 0), x_dir=(0, 0, -1), z_dir=(1, 0, 0))):
        with BuildLine():
            Line((-4.8895, -144.78), (172.9105, -144.78))
            ThreePointArc((172.9105, -144.78), (174.033032015, -144.315032015), (174.498, -143.1925))
            Line((174.498, -143.1925), (174.498, 0))
            Line((174.498, 0), (-6.477, 0))
            Line((-6.477, 0), (-6.477, -143.1925))
            ThreePointArc((-6.477, -143.1925), (-6.012032015, -144.315032015), (-4.8895, -144.78))
        make_face()
    extrude(amount=-RELIEF_FOR_MIP_FACE_SUPPORT_DEPTH, mode=Mode.SUBTRACT)

    # Sketch23 → Extrude-Thin1 (add)
    with BuildSketch(Plane(origin=(29.21, 0, 0), x_dir=(0, 0, -1), z_dir=(1, 0, 0))):
        with Locations((84.0105, -72.39)):
            Rectangle(SKETCH23_W, SKETCH23_H)
        with Locations((84.0105, -67.990128061)):
            Rectangle(SKETCH23_W_2, SKETCH23_H_2)
    extrude(amount=-EXTRUDE_THIN1_DEPTH)

    # Fillet6
    fillet6_edges = [part_2.edges().sort_by_distance(p)[0] for p in [
        (14.605, -132.08, -80.8355),
        (14.605, -71.165128061, -87.1855),
        (14.605, -12.7, -80.8355),
        (14.605, -64.815128061, -80.8355),
        (14.605, -132.08, -87.1855),
        (14.605, -12.7, -87.1855),
        (14.605, -64.815128061, -161.798),
        (14.605, -64.815128061, -87.1855),
        (14.605, -71.165128061, -161.798),
        (14.605, -71.165128061, -80.8355),
        (14.605, -64.815128061, -6.223),
        (14.605, -71.165128061, -6.223),
    ]]
    fillet(fillet6_edges, radius=FILLET6_R)

    # Sketch24 → Cut-Extrude5 (cut)
    with BuildSketch(Plane(origin=(29.21, 0, 0), x_dir=(0, 0, -1), z_dir=(1, 0, 0))):
        Polygon((25.4, -132.08), (25.4, -114.3), (6.223, -114.3), (6.223, -12.7), (161.798, -12.7), (161.798, -114.3), (142.621, -114.3), (142.621, -132.08), align=None)
    extrude(amount=-CUT_EXTRUDE5_DEPTH, mode=Mode.SUBTRACT)

    # Sketch25 → Extrude-Thin2 (add)
    with BuildSketch(Plane(origin=(29.21, 0, 0), x_dir=(0, 0, -1), z_dir=(1, 0, 0))):
        with Locations((58.6105, -72.39)):
            Rectangle(SKETCH25_W, SKETCH25_H)
        with Locations((32.41675, -72.39)):
            Rectangle(SKETCH25_W_2, SKETCH25_H_2)
        with Locations((135.60425, -72.39)):
            Rectangle(SKETCH25_W_2, SKETCH25_H_2)
        with Locations((109.4105, -72.39)):
            Rectangle(SKETCH25_W, SKETCH25_H)
    extrude(amount=-EXTRUDE_THIN2_DEPTH)

    # Chamfer2
    chamfer2_edges = [part_2.edges().sort_by_distance(p)[0] for p in [
        (14.605, -114.3, -6.223),
        (14.605, -132.08, -25.4),
        (14.605, -114.3, -161.798),
        (14.605, -132.08, -142.621),
        (14.605, -12.7, -6.223),
        (14.605, -12.7, -161.798),
        (14.605, -132.08, -52.2605),
        (14.605, -12.7, -52.2605),
        (14.605, -66.04, -52.2605),
        (14.605, -132.08, -64.9605),
        (14.605, -12.7, -64.9605),
        (14.605, -78.74, -52.2605),
        (14.605, -66.04, -6.223),
        (14.605, -78.74, -6.223),
        (14.605, -66.04, -161.798),
        (14.605, -66.04, -115.7605),
        (14.605, -78.74, -161.798),
        (14.605, -12.7, -115.7605),
        (14.605, -12.7, -103.0605),
        (14.605, -132.08, -103.0605),
        (14.605, -132.08, -115.7605),
        (14.605, -78.74, -115.7605),
    ]]
    chamfer(chamfer2_edges, length=CHAMFER2_SIZE)

    # Chamfer3
    chamfer3_edges = [part_2.edges().sort_by_distance(p)[0] for p in [
        (0, -17.4625, -98.298),
        (0, -17.4625, -69.723),
        (0, -127.3175, -69.723),
        (0, -127.3175, -98.298),
        (0, -12.7, -84.0105),
        (0, -72.39, -103.0605),
        (0, -72.39, -64.9605),
        (0, -132.08, -84.0105),
    ]]
    chamfer(chamfer3_edges, length=CHAMFER3_SIZE)


solid = part_2.part
